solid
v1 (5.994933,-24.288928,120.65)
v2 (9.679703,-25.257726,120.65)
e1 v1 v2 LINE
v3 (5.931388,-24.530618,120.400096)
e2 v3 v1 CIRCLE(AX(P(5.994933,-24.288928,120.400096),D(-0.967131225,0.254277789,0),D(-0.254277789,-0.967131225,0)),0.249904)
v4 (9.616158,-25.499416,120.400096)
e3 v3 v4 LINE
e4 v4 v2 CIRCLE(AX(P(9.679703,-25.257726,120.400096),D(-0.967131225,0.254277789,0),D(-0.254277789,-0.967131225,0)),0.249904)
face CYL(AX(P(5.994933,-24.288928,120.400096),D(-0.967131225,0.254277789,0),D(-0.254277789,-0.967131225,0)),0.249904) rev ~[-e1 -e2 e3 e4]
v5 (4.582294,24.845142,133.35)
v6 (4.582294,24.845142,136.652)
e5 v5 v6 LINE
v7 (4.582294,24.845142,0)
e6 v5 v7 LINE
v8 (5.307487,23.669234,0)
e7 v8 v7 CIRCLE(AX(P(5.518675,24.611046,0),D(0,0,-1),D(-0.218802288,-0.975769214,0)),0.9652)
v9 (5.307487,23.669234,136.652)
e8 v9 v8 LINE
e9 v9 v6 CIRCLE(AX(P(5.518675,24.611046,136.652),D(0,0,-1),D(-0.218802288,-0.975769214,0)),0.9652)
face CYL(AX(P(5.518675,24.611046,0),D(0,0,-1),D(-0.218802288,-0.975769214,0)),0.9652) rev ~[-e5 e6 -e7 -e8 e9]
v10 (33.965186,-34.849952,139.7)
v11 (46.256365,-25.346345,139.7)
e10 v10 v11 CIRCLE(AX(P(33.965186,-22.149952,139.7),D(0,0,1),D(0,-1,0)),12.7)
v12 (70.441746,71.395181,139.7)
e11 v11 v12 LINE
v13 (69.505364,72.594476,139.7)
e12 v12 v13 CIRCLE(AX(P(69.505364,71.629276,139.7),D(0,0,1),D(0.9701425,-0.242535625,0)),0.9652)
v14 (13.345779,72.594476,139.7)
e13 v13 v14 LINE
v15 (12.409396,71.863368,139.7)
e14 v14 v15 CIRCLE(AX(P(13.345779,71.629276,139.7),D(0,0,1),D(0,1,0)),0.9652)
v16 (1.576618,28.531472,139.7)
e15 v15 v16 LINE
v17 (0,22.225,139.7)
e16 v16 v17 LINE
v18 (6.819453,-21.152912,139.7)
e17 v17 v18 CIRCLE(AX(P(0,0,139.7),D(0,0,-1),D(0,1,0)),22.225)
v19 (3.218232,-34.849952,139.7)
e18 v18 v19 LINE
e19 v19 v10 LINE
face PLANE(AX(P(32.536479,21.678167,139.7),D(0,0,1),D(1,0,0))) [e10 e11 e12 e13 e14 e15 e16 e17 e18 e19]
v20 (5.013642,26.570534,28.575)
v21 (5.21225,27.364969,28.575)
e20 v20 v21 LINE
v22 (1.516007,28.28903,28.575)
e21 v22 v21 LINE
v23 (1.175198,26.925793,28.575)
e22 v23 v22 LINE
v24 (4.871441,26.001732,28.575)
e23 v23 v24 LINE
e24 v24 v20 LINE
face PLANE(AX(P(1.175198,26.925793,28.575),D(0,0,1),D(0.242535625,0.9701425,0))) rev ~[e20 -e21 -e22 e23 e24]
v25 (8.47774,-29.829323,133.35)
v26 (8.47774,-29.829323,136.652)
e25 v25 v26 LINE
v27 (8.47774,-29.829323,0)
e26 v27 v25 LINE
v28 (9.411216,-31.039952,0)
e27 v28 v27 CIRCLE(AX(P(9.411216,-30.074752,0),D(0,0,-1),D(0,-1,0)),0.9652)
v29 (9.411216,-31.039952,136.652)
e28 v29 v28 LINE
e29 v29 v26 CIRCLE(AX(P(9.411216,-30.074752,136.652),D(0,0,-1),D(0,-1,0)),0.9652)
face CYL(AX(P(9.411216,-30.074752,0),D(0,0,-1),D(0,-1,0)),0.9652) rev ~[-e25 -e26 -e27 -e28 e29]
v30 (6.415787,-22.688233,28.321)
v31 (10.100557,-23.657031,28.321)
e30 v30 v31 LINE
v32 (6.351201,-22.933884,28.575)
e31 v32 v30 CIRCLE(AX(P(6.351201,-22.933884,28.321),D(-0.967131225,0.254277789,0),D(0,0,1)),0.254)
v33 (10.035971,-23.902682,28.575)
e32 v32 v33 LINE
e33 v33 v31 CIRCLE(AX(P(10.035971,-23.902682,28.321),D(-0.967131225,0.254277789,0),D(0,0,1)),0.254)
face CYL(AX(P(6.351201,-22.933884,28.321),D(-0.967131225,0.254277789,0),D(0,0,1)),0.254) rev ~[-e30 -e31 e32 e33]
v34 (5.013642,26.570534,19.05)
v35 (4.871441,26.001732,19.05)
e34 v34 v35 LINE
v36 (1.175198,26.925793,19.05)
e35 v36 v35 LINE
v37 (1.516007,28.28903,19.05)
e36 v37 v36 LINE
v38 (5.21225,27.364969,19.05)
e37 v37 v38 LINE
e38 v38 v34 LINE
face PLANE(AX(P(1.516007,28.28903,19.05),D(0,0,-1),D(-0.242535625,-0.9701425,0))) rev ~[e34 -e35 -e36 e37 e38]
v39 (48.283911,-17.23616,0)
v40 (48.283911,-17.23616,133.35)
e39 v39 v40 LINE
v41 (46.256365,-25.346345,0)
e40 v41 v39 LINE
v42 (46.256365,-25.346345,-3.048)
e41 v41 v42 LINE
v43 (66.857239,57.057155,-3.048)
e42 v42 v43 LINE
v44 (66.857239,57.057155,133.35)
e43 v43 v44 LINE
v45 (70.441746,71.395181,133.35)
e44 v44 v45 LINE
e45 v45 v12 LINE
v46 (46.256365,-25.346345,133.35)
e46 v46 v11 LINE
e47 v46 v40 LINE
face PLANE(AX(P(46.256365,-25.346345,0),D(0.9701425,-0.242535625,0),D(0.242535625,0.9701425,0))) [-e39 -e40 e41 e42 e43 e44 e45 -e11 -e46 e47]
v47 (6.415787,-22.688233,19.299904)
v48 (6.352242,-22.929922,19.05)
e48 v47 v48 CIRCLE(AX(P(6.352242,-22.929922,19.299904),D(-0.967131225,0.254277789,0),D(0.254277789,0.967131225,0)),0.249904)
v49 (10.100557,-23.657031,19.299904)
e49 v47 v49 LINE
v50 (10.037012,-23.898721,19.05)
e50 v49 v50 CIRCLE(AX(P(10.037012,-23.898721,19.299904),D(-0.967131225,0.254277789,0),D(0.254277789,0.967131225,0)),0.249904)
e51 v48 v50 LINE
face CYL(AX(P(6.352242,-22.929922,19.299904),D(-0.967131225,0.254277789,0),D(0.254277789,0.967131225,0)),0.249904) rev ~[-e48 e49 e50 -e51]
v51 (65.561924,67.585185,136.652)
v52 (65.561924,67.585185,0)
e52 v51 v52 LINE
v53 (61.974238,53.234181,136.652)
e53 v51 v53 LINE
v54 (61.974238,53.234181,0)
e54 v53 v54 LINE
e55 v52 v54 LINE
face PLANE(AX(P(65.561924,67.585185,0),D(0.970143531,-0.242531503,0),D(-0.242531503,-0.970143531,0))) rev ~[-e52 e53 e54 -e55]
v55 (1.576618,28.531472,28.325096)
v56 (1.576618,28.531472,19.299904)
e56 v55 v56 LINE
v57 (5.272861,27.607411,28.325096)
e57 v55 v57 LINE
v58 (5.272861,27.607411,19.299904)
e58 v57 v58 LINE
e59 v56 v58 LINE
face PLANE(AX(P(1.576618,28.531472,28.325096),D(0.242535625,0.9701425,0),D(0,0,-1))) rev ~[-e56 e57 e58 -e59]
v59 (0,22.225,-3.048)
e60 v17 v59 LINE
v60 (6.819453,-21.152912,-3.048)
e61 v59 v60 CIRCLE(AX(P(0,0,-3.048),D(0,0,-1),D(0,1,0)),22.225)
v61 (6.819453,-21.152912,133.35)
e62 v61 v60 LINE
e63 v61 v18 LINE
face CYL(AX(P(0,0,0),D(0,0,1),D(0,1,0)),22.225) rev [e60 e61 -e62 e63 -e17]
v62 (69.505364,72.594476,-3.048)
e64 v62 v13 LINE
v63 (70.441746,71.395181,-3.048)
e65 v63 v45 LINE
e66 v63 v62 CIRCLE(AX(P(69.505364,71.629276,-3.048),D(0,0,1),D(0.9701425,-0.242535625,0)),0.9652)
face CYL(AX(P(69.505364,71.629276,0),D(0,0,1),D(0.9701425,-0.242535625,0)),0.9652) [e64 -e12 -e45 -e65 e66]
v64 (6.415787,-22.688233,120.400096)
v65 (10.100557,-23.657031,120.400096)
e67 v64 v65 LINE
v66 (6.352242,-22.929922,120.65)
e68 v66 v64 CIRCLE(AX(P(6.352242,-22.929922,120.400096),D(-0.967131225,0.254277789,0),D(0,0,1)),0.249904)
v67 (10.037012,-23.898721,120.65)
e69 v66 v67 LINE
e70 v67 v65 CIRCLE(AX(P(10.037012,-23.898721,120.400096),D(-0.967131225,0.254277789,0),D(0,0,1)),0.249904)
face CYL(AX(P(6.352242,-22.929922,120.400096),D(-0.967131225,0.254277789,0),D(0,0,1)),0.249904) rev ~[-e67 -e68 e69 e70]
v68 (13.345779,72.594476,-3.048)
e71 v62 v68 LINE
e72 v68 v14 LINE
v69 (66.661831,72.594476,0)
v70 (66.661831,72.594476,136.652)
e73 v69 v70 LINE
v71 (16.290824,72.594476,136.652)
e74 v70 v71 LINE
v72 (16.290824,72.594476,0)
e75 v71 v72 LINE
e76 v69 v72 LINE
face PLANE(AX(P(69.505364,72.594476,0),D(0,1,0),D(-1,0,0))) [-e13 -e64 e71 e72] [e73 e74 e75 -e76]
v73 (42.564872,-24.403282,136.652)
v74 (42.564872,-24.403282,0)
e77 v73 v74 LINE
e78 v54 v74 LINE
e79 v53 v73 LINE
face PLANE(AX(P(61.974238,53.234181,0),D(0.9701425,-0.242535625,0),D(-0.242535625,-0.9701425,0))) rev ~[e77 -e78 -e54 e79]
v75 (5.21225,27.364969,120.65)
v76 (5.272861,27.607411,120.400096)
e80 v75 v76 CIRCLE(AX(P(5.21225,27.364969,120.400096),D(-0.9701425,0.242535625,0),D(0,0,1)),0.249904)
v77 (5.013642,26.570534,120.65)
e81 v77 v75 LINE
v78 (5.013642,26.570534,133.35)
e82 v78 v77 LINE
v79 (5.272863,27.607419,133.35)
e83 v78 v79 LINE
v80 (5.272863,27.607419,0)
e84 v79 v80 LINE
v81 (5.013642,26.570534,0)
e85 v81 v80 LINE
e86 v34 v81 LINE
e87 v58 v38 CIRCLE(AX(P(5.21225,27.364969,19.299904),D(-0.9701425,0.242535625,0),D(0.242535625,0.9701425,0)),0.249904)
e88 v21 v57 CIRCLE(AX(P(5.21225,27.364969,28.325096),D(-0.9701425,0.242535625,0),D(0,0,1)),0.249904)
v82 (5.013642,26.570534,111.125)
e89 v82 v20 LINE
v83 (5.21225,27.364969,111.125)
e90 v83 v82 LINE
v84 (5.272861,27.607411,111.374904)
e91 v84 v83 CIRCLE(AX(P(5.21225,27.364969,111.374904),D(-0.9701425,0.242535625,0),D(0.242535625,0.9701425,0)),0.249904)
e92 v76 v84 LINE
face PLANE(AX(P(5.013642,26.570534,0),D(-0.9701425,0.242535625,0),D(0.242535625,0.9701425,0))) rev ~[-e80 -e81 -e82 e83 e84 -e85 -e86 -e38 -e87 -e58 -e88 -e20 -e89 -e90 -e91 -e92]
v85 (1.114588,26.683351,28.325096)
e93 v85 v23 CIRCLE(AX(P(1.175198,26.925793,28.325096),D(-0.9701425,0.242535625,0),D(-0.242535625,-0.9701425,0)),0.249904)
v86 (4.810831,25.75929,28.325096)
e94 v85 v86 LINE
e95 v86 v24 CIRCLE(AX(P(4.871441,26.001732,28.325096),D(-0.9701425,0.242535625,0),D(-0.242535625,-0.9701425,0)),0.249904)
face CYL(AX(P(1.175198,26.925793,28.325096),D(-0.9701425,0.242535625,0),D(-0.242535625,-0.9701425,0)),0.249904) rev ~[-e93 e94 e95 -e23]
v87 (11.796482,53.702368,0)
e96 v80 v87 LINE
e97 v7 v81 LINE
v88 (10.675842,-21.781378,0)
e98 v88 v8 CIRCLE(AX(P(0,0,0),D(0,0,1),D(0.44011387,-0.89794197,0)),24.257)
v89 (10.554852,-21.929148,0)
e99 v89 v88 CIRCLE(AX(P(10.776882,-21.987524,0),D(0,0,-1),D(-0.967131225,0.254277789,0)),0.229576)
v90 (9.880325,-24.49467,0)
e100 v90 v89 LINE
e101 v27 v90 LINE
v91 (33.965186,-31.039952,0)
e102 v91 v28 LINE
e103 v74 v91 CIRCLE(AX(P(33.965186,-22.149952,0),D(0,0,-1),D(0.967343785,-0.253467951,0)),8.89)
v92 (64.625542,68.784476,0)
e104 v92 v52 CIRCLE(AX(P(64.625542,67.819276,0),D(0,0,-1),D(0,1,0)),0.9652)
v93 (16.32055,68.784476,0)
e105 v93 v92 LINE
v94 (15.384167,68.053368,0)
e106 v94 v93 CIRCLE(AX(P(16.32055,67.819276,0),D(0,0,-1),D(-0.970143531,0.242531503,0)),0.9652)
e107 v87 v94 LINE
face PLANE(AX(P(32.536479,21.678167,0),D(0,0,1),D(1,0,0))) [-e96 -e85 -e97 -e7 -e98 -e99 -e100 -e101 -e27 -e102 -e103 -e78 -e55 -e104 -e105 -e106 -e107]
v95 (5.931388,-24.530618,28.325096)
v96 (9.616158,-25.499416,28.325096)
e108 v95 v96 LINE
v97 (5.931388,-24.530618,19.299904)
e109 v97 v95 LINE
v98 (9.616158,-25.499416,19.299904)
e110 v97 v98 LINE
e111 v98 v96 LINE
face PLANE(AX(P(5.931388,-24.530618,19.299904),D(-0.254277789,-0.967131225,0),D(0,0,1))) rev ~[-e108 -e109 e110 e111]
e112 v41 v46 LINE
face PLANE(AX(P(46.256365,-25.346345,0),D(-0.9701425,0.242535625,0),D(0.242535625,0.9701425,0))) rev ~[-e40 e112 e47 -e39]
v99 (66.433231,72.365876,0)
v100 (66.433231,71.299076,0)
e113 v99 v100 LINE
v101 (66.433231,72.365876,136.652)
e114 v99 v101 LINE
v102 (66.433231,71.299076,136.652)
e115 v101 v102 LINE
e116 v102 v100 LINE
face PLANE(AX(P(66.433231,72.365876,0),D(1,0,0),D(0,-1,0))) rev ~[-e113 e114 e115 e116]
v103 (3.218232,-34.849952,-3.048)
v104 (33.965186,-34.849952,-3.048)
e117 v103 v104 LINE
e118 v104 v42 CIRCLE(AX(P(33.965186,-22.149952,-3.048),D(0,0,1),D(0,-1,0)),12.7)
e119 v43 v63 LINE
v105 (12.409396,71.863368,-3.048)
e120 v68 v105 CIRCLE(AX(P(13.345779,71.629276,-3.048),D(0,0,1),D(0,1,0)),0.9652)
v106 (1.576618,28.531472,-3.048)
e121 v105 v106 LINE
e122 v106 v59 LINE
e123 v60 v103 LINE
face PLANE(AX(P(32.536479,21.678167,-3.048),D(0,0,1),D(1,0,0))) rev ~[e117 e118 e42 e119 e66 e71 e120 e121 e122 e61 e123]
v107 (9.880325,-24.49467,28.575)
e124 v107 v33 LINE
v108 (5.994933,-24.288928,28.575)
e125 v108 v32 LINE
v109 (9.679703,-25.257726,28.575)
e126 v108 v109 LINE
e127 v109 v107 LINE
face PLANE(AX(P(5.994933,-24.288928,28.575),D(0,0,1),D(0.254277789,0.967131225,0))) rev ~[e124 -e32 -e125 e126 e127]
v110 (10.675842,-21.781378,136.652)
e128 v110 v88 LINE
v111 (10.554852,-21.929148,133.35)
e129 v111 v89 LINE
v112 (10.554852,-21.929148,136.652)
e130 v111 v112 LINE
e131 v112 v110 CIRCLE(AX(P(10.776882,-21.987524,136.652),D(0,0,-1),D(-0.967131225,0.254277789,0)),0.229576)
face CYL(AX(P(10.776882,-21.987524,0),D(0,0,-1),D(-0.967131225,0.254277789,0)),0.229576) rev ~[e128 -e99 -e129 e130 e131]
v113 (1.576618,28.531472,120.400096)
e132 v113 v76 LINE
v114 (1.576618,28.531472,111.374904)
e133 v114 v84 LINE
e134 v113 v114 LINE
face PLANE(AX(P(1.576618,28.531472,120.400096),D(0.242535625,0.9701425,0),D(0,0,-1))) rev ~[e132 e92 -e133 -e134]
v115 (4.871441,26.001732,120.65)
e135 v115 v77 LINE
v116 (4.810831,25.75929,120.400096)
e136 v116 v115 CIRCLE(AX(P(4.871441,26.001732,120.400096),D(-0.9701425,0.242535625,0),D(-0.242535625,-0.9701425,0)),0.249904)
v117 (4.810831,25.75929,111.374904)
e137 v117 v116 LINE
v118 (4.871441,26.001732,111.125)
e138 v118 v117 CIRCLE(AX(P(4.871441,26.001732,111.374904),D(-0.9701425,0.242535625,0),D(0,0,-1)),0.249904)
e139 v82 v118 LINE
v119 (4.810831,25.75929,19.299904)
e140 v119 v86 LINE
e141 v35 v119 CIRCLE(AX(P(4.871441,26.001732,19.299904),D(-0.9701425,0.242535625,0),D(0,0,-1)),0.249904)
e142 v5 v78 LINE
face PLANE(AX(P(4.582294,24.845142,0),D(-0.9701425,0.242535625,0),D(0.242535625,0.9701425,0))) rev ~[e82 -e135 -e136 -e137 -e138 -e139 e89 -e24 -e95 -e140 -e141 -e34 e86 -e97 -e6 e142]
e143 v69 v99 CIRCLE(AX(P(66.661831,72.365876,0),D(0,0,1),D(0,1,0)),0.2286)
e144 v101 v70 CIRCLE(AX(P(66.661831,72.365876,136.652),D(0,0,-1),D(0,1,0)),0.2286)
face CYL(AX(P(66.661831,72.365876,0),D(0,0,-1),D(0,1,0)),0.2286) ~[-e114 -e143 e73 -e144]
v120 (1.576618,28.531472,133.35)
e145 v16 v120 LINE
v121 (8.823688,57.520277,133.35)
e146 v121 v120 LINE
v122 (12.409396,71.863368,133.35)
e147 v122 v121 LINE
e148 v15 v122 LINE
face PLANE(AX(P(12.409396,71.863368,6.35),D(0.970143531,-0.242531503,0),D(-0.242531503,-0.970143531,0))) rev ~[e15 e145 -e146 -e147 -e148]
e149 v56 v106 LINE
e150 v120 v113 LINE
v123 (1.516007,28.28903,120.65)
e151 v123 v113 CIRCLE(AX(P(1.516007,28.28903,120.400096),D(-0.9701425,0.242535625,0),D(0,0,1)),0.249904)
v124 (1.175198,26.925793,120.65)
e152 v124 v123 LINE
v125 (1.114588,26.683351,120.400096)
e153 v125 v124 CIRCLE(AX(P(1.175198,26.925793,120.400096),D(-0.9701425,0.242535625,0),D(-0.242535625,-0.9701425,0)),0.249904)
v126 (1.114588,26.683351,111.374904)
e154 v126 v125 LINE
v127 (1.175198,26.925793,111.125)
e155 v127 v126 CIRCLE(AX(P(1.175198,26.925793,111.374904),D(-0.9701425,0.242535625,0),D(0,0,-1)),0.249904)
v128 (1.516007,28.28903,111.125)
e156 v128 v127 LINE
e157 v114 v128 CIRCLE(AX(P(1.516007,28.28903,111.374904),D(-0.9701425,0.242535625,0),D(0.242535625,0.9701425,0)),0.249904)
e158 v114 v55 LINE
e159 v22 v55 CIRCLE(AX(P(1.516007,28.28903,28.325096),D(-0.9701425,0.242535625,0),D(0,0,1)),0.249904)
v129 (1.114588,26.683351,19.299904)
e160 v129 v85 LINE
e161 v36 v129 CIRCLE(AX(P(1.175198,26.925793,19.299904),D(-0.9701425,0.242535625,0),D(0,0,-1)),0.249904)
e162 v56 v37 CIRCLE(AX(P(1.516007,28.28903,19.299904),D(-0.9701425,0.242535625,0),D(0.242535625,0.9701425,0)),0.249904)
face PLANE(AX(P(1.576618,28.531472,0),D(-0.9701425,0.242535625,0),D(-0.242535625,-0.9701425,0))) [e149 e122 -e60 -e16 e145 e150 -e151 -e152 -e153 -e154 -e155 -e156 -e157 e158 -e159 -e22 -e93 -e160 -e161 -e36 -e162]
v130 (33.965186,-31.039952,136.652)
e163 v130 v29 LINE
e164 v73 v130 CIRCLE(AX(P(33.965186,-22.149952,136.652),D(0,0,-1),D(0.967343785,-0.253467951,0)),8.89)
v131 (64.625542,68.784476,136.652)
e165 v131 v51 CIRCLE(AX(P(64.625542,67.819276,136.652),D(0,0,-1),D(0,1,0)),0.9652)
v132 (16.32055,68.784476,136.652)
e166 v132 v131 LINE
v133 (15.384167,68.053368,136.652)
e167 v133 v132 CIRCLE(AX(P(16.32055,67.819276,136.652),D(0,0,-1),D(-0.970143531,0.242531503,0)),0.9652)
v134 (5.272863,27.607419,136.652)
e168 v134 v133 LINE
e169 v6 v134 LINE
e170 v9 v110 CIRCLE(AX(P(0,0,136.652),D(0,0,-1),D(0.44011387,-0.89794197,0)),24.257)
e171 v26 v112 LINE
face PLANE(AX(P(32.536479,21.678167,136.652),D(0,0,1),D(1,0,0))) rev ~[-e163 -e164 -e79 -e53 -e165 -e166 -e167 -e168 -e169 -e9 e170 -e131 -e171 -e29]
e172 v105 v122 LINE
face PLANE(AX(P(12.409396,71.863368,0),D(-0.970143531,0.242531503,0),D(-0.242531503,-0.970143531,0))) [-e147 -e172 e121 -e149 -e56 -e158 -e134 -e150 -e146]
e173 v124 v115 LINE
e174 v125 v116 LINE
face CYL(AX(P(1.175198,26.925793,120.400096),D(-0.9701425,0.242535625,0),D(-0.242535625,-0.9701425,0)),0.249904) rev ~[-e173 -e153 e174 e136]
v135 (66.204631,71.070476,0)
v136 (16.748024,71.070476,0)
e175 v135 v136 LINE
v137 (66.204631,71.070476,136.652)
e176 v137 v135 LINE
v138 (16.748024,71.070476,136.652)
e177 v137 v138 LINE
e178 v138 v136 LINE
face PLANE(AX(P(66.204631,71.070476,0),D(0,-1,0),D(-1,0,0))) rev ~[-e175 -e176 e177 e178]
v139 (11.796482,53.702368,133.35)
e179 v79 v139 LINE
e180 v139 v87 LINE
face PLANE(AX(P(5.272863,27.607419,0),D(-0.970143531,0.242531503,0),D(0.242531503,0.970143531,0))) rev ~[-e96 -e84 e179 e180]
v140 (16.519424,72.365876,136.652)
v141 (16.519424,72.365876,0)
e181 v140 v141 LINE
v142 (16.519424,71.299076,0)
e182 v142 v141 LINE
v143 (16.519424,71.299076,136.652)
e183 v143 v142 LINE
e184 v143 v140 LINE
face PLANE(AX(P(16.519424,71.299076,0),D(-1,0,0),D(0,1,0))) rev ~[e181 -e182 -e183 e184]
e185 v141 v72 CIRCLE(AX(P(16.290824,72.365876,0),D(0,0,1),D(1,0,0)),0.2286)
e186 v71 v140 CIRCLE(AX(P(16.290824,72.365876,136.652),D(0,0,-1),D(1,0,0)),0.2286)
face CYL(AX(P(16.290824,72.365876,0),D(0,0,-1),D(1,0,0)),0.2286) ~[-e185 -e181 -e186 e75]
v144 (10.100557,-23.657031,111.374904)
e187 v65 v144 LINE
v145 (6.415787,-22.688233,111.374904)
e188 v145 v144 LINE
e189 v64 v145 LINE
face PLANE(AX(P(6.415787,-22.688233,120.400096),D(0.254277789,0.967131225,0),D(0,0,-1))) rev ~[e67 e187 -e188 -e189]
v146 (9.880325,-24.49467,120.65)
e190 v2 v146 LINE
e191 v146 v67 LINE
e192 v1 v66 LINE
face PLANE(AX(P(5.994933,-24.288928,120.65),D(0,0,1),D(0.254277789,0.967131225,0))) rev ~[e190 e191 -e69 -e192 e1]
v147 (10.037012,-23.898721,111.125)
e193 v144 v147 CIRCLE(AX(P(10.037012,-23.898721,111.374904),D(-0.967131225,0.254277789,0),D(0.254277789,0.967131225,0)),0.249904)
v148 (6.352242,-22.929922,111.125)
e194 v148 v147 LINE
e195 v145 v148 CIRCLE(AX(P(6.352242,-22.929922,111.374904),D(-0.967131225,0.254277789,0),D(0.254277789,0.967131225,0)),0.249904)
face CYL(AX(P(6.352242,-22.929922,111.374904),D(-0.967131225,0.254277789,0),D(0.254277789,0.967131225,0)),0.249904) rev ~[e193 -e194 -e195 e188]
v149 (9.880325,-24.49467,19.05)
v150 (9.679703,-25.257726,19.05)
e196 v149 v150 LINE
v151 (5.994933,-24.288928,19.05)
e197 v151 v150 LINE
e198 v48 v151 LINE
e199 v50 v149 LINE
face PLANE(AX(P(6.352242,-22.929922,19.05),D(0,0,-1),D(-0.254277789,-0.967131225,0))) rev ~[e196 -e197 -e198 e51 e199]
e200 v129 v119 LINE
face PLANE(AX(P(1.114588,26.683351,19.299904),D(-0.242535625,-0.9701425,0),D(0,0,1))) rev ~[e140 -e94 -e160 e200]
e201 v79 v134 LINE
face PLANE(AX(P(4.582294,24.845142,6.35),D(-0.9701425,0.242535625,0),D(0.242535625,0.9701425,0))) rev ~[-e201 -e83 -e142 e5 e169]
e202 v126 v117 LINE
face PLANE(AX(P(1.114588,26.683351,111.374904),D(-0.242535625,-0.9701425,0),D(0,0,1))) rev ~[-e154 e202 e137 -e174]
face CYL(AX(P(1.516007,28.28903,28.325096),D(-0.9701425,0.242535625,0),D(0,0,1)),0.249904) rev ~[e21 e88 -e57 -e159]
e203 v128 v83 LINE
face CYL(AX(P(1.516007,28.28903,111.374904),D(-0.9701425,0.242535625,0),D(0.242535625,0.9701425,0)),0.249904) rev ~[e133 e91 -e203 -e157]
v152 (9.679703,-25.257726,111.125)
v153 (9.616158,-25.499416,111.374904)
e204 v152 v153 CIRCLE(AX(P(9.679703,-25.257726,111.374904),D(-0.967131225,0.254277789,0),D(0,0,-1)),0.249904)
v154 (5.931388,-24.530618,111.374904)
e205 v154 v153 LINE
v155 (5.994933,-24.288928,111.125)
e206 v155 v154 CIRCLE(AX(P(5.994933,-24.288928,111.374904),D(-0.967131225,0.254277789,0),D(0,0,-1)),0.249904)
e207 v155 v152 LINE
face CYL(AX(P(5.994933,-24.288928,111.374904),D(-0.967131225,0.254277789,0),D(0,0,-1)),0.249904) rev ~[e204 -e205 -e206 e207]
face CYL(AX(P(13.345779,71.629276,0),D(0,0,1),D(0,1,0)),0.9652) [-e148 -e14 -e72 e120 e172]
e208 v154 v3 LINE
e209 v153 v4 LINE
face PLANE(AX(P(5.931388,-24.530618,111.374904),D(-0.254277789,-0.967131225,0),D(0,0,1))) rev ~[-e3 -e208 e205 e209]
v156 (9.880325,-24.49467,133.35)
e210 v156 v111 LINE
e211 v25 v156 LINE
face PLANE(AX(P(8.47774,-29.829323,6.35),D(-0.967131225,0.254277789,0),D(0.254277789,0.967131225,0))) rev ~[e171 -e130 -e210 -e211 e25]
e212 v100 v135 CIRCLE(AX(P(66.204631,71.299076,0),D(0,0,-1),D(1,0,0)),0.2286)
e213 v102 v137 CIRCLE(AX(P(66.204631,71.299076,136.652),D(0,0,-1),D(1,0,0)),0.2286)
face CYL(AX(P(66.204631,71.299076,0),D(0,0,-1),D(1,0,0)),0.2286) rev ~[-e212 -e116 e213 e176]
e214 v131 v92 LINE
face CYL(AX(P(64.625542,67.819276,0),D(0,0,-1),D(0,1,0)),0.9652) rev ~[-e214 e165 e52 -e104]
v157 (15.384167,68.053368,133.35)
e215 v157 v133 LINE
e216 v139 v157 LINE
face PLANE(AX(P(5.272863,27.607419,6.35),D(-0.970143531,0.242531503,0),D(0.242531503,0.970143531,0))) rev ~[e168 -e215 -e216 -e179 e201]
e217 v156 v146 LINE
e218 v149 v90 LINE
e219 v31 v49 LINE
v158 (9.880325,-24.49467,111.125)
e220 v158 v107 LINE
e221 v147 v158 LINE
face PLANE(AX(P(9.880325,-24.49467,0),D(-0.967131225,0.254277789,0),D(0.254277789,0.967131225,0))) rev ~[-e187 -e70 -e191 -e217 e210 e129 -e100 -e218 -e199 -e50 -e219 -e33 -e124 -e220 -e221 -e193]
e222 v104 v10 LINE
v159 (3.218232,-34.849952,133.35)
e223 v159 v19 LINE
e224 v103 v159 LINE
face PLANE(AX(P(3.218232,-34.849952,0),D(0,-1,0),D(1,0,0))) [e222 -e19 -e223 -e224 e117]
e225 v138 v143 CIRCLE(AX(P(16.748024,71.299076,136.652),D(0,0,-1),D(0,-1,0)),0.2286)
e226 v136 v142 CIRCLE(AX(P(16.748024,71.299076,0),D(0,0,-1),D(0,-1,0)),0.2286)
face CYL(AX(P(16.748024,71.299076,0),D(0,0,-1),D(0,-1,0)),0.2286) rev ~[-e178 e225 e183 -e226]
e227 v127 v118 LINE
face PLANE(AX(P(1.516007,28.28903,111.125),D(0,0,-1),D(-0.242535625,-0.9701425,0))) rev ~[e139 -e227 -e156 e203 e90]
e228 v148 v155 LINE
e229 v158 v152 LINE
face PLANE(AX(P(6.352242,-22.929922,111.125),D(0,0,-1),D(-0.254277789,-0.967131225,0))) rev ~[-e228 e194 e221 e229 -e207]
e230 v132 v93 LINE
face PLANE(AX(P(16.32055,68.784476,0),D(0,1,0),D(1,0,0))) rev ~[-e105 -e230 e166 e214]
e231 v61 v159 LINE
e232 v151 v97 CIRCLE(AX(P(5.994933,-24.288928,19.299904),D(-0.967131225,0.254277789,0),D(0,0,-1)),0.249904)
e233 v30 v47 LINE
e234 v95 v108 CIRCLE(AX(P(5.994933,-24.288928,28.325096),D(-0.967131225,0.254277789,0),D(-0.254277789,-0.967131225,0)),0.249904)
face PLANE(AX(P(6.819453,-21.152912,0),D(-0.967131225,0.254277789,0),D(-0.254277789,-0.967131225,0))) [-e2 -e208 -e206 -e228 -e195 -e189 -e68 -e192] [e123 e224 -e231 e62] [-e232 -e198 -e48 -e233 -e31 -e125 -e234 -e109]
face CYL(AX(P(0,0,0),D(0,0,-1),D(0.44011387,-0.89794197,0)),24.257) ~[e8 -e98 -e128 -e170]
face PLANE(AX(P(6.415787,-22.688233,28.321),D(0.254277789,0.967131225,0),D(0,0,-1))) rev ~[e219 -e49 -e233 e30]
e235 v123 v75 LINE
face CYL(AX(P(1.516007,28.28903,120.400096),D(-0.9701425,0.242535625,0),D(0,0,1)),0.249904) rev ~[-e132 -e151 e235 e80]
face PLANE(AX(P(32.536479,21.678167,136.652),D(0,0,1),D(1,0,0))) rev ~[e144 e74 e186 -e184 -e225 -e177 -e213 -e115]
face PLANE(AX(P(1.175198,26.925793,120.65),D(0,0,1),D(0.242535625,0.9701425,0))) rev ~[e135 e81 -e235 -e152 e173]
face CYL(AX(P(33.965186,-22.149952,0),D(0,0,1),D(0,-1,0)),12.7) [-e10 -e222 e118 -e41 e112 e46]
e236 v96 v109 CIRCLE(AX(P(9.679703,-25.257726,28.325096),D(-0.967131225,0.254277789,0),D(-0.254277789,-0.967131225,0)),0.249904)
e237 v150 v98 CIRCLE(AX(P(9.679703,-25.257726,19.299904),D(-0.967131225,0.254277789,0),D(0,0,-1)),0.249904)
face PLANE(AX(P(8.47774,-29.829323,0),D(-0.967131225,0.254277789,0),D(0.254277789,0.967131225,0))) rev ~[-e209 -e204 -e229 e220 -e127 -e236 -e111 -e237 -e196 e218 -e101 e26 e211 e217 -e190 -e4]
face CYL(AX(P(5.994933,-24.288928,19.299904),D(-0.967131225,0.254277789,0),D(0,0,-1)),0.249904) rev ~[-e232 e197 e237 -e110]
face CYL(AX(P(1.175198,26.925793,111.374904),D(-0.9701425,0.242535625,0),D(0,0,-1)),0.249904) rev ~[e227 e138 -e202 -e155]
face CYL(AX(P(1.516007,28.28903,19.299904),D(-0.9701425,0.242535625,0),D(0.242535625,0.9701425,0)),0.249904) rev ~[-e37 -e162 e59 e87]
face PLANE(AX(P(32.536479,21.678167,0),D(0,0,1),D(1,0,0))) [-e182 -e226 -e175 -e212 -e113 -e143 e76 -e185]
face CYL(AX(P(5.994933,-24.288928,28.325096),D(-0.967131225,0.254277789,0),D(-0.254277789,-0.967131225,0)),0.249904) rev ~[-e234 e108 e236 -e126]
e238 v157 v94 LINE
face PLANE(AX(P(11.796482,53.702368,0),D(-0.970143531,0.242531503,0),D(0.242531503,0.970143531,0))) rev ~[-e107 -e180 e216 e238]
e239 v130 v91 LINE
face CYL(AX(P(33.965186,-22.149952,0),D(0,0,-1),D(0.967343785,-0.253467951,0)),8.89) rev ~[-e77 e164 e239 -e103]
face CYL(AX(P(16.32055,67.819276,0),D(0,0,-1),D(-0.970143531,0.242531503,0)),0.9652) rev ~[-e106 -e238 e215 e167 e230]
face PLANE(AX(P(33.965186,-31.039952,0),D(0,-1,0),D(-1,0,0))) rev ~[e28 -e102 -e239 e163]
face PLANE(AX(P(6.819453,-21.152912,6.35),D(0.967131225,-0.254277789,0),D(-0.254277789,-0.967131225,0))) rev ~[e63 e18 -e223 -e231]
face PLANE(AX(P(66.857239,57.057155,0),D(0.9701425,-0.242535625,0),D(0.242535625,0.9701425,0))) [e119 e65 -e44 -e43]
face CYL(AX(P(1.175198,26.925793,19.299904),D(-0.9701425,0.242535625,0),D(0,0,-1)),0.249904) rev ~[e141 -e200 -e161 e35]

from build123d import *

# Parameters (mm, degrees)
F1_DEPTH  = 6.35
F2_DEPTH  = 133.35
F4_DEPTH  = 12.7
F6_DEPTH  = 12.7
F9_DEPTH  = 3.048
F10_DEPTH = 3.048


with BuildPart() as f1:
    # F0 (on Top) → F1 (new body)
    with BuildSketch(Plane.XY):
        with BuildLine():
            ThreePointArc((0, 22.225), (21.9553420771, 3.451605319), (6.8194533628, -21.152911876))
            Line((6.8194533628, -21.152911876), (3.2182324681, -34.8499524029))
            Line((3.2182324681, -34.8499524029), (16.4174194703, -34.8499524029))
            Line((16.4174194703, -34.8499524029), (33.9651857852, -34.8499524029))
            ThreePointArc((33.9651857852, -34.8499524029), (41.7335775109, -32.1969464806), (46.2563646294, -25.3463445283))
            Line((46.2563646294, -25.3463445283), (48.2839106629, -17.2361603944))
            Line((48.2839106629, -17.2361603944), (66.8572394912, 57.057154919))
            Line((66.8572394912, 57.057154919), (70.441746016, 71.3951810179))
            ThreePointArc((70.441746016, 71.3951810179), (70.2661403636, 72.2232722677), (69.5053644748, 72.5944764032))
            Line((69.5053644748, 72.5944764032), (66.6618312249, 72.5944764032))
            ThreePointArc((66.6618312249, 72.5944764032), (66.5001866147, 72.5275210134), (66.4332312249, 72.3658764032))
            Line((66.4332312249, 72.3658764032), (66.4332312249, 71.2990764032))
            ThreePointArc((66.4332312249, 71.2990764032), (66.3662758351, 71.137431793), (66.2046312249, 71.0704764032))
            Line((66.2046312249, 71.0704764032), (62.9969858988, 71.0704764032))
            Line((62.9969858988, 71.0704764032), (16.7480240974, 71.0704764032))
            ThreePointArc((16.7480240974, 71.0704764032), (16.5863794872, 71.137431793), (16.5194240974, 71.2990764032))
            Line((16.5194240974, 71.2990764032), (16.5194240974, 72.3658764032))
            ThreePointArc((16.5194240974, 72.3658764032), (16.4524687076, 72.5275210134), (16.2908240974, 72.5944764032))
            Line((16.2908240974, 72.5944764032), (13.3457788493, 72.5944764032))
            ThreePointArc((13.3457788493, 72.5944764032), (12.7517813684, 72.3900510299), (12.4093963134, 71.8633678095))
            Line((12.4093963134, 71.8633678095), (8.8236883425, 57.5202768957))
            Line((8.8236883425, 57.5202768957), (1.5766180268, 28.5314721071))
            Line((1.5766180268, 28.5314721071), (0, 22.225))
        make_face()
        with BuildLine():
            Line((8.4777404731, -29.8293234814), (9.8803254969, -24.4946704637))
            Line((9.8803254969, -24.4946704637), (10.5548516962, -21.9291481147))
            ThreePointArc((10.5548516962, -21.9291481147), (10.5992515812, -21.8420847409), (10.675842156, -21.78137836))
            ThreePointArc((10.675842156, -21.78137836), (24.0895462893, 2.8453134411), (5.3074870946, 23.6692338224))
            ThreePointArc((5.3074870946, 23.6692338224), (4.6971406745, 24.104398176), (4.5822935216, 24.845141653))
            Line((4.5822935216, 24.845141653), (5.0136417236, 26.570534461))
            Line((5.0136417236, 26.570534461), (5.2728629157, 27.6074192291))
            Line((5.2728629157, 27.6074192291), (11.7964822448, 53.7023678095))
            Line((11.7964822448, 53.7023678095), (15.3841674516, 68.0533678095))
            ThreePointArc((15.3841674516, 68.0533678095), (15.7265525066, 68.5800510299), (16.3205499875, 68.7844764032))
            Line((16.3205499875, 68.7844764032), (62.9969858988, 68.7844764032))
            Line((62.9969858988, 68.7844764032), (64.6255415732, 68.7844764032))
            ThreePointArc((64.6255415732, 68.7844764032), (65.3863161999, 68.4132738841), (65.5619241091, 67.5851849969))
            Line((65.5619241091, 67.5851849969), (61.9742379076, 53.2341810179))
            Line((61.9742379076, 53.2341810179), (44.5876677374, -16.312099663))
            Line((44.5876677374, -16.312099663), (42.5648720315, -24.4032824866))
            ThreePointArc((42.5648720315, -24.4032824866), (39.3965758263, -29.1878570785), (33.9651857852, -31.0399524029))
            Line((33.9651857852, -31.0399524029), (16.7253963249, -31.0399524029))
            Line((16.7253963249, -31.0399524029), (9.4112155314, -31.0399524029))
            ThreePointArc((9.4112155314, -31.0399524029), (8.6468533675, -30.6641262423), (8.4777404731, -29.8293234814))
        make_face(mode=Mode.SUBTRACT)
    extrude(amount=F1_DEPTH)

    # F0 (on Top) + F1_face (on face) → F2 (join)
    with BuildSketch(Plane.XY):
        with BuildLine():
            ThreePointArc((0, 22.225), (21.9553420771, 3.451605319), (6.8194533628, -21.152911876))
            Line((6.8194533628, -21.152911876), (3.2182324681, -34.8499524029))
            Line((3.2182324681, -34.8499524029), (16.4174194703, -34.8499524029))
            Line((16.4174194703, -34.8499524029), (33.9651857852, -34.8499524029))
            ThreePointArc((33.9651857852, -34.8499524029), (41.7335775109, -32.1969464806), (46.2563646294, -25.3463445283))
            Line((46.2563646294, -25.3463445283), (48.2839106629, -17.2361603944))
            Line((48.2839106629, -17.2361603944), (66.8572394912, 57.057154919))
            Line((66.8572394912, 57.057154919), (70.441746016, 71.3951810179))
            ThreePointArc((70.441746016, 71.3951810179), (70.2661403636, 72.2232722677), (69.5053644748, 72.5944764032))
            Line((69.5053644748, 72.5944764032), (66.6618312249, 72.5944764032))
            ThreePointArc((66.6618312249, 72.5944764032), (66.5001866147, 72.5275210134), (66.4332312249, 72.3658764032))
            Line((66.4332312249, 72.3658764032), (66.4332312249, 71.2990764032))
            ThreePointArc((66.4332312249, 71.2990764032), (66.3662758351, 71.137431793), (66.2046312249, 71.0704764032))
            Line((66.2046312249, 71.0704764032), (62.9969858988, 71.0704764032))
            Line((62.9969858988, 71.0704764032), (16.7480240974, 71.0704764032))
            ThreePointArc((16.7480240974, 71.0704764032), (16.5863794872, 71.137431793), (16.5194240974, 71.2990764032))
            Line((16.5194240974, 71.2990764032), (16.5194240974, 72.3658764032))
            ThreePointArc((16.5194240974, 72.3658764032), (16.4524687076, 72.5275210134), (16.2908240974, 72.5944764032))
            Line((16.2908240974, 72.5944764032), (13.3457788493, 72.5944764032))
            ThreePointArc((13.3457788493, 72.5944764032), (12.7517813684, 72.3900510299), (12.4093963134, 71.8633678095))
            Line((12.4093963134, 71.8633678095), (8.8236883425, 57.5202768957))
            Line((8.8236883425, 57.5202768957), (1.5766180268, 28.5314721071))
            Line((1.5766180268, 28.5314721071), (0, 22.225))
        make_face()
        with BuildLine():
            Line((8.4777404731, -29.8293234814), (9.8803254969, -24.4946704637))
            Line((9.8803254969, -24.4946704637), (10.5548516962, -21.9291481147))
            ThreePointArc((10.5548516962, -21.9291481147), (10.5992515812, -21.8420847409), (10.675842156, -21.78137836))
            ThreePointArc((10.675842156, -21.78137836), (24.0895462893, 2.8453134411), (5.3074870946, 23.6692338224))
            ThreePointArc((5.3074870946, 23.6692338224), (4.6971406745, 24.104398176), (4.5822935216, 24.845141653))
            Line((4.5822935216, 24.845141653), (5.0136417236, 26.570534461))
            Line((5.0136417236, 26.570534461), (5.2728629157, 27.6074192291))
            Line((5.2728629157, 27.6074192291), (11.7964822448, 53.7023678095))
            Line((11.7964822448, 53.7023678095), (15.3841674516, 68.0533678095))
            ThreePointArc((15.3841674516, 68.0533678095), (15.7265525066, 68.5800510299), (16.3205499875, 68.7844764032))
            Line((16.3205499875, 68.7844764032), (62.9969858988, 68.7844764032))
            Line((62.9969858988, 68.7844764032), (64.6255415732, 68.7844764032))
            ThreePointArc((64.6255415732, 68.7844764032), (65.3863161999, 68.4132738841), (65.5619241091, 67.5851849969))
            Line((65.5619241091, 67.5851849969), (61.9742379076, 53.2341810179))
            Line((61.9742379076, 53.2341810179), (44.5876677374, -16.312099663))
            Line((44.5876677374, -16.312099663), (42.5648720315, -24.4032824866))
            ThreePointArc((42.5648720315, -24.4032824866), (39.3965758263, -29.1878570785), (33.9651857852, -31.0399524029))
            Line((33.9651857852, -31.0399524029), (16.7253963249, -31.0399524029))
            Line((16.7253963249, -31.0399524029), (9.4112155314, -31.0399524029))
            ThreePointArc((9.4112155314, -31.0399524029), (8.6468533675, -30.6641262423), (8.4777404731, -29.8293234814))
        make_face(mode=Mode.SUBTRACT)
    with BuildSketch(Plane(origin=(33.8847935275, 19.8846997175, 6.35), x_dir=(1, 0, 0), z_dir=(0, 0, 1))):
        with BuildLine():
            Line((-32.3081755007, 8.6467723896), (-33.8847935275, 2.3403002825))
            ThreePointArc((-33.8847935275, 2.3403002825), (-11.9294514504, -16.4330943985), (-27.0653401647, -41.0376115934))
            Line((-27.0653401647, -41.0376115934), (-30.6665610594, -54.7346521204))
            Line((-30.6665610594, -54.7346521204), (0.0803922577, -54.7346521204))
            ThreePointArc((0.0803922577, -54.7346521204), (7.8487839834, -52.081646198), (12.3715711019, -45.2310442458))
            Line((12.3715711019, -45.2310442458), (36.5569524885, 51.5104813004))
            ThreePointArc((36.5569524885, 51.5104813004), (36.3813468361, 52.3385725502), (35.6205709473, 52.7097766857))
            Line((35.6205709473, 52.7097766857), (32.7770376974, 52.7097766857))
            ThreePointArc((32.7770376974, 52.7097766857), (32.6153930872, 52.6428212959), (32.5484376974, 52.4811766857))
            Line((32.5484376974, 52.4811766857), (32.5484376974, 51.4143766857))
            ThreePointArc((32.5484376974, 51.4143766857), (32.4814823076, 51.2527320756), (32.3198376974, 51.1857766857))
            Line((32.3198376974, 51.1857766857), (-17.1367694301, 51.1857766857))
            ThreePointArc((-17.1367694301, 51.1857766857), (-17.2984140403, 51.2527320756), (-17.3653694301, 51.4143766857))
            Line((-17.3653694301, 51.4143766857), (-17.3653694301, 52.4811766857))
            ThreePointArc((-17.3653694301, 52.4811766857), (-17.4323248199, 52.6428212959), (-17.5939694301, 52.7097766857))
            Line((-17.5939694301, 52.7097766857), (-20.5390146782, 52.7097766857))
            ThreePointArc((-20.5390146782, 52.7097766857), (-21.1330121591, 52.5053513125), (-21.475397214, 51.978668092))
            Line((-21.475397214, 51.978668092), (-32.3081755007, 8.6467723896))
        make_face()
        with BuildLine():
            Line((28.0894443801, 33.3494813004), (8.680078504, -44.287982204))
            ThreePointArc((8.680078504, -44.287982204), (5.5117822988, -49.0725567959), (0.0803922577, -50.9246521204))
            Line((0.0803922577, -50.9246521204), (-24.4735779961, -50.9246521204))
            ThreePointArc((-24.4735779961, -50.9246521204), (-25.2379401599, -50.5488259597), (-25.4070530544, -49.7140231989))
            Line((-25.4070530544, -49.7140231989), (-23.3299418313, -41.8138478322))
            ThreePointArc((-23.3299418313, -41.8138478322), (-23.2855419463, -41.7267844584), (-23.2089513715, -41.6660780774))
            ThreePointArc((-23.2089513715, -41.6660780774), (-9.7952472382, -17.0393862764), (-28.5773064329, 3.7845341049))
            ThreePointArc((-28.5773064329, 3.7845341049), (-29.187652853, 4.2196984585), (-29.3025000058, 4.9604419355))
            Line((-29.3025000058, 4.9604419355), (-28.6119306118, 7.7227195116))
            Line((-28.6119306118, 7.7227195116), (-18.5006260759, 48.168668092))
            ThreePointArc((-18.5006260759, 48.168668092), (-18.1582410209, 48.6953513125), (-17.56424354, 48.8997766857))
            Line((-17.56424354, 48.8997766857), (30.7407480457, 48.8997766857))
            ThreePointArc((30.7407480457, 48.8997766857), (31.5015226724, 48.5285741666), (31.6771305816, 47.7004852794))
            Line((31.6771305816, 47.7004852794), (28.0894443801, 33.3494813004))
        make_face(mode=Mode.SUBTRACT)
    extrude(amount=F2_DEPTH)

    # F3 (on face) → F4 (cut)
    with BuildSketch(Plane(origin=(11.580450504, -3.0447278186, 0), x_dir=(-0.2542777886, -0.9671312249, 0), z_dir=(-0.9671312249, 0.2542777886, 0))):
        with BuildLine():
            ThreePointArc((20.3111060532, 19.2999036496), (20.3843011375, 19.1231950843), (20.5610097027, 19.05))
            Line((20.5610097027, 19.05), (21.9662024036, 19.05))
            ThreePointArc((21.9662024036, 19.05), (22.1429109688, 19.1231950843), (22.2161060532, 19.2999036496))
            Line((22.2161060532, 19.2999036496), (22.2161060532, 28.3250963504))
            ThreePointArc((22.2161060532, 28.3250963504), (22.1429109688, 28.5018049157), (21.9662024036, 28.575))
            Line((21.9662024036, 28.575), (20.5651060532, 28.575))
            ThreePointArc((20.5651060532, 28.575), (20.3855009307, 28.5006051224), (20.3111060532, 28.321))
            Line((20.3111060532, 28.321), (20.3111060532, 19.2999036496))
        make_face()
        with BuildLine():
            Line((21.9662024036, 120.65), (20.5610097027, 120.65))
            ThreePointArc((20.5610097027, 120.65), (20.3843011375, 120.5768049157), (20.3111060532, 120.4000963504))
            Line((20.3111060532, 120.4000963504), (20.3111060532, 111.3749036496))
            ThreePointArc((20.3111060532, 111.3749036496), (20.3843011375, 111.1981950843), (20.5610097027, 111.125))
            Line((20.5610097027, 111.125), (21.9662024036, 111.125))
            ThreePointArc((21.9662024036, 111.125), (22.1429109688, 111.1981950843), (22.2161060532, 111.3749036496))
            Line((22.2161060532, 111.3749036496), (22.2161060532, 120.4000963504))
            ThreePointArc((22.2161060532, 120.4000963504), (22.1429109688, 120.5768049157), (21.9662024036, 120.65))
        make_face()
    extrude(amount=-F4_DEPTH, mode=Mode.SUBTRACT)

    # F5 (on face) → F6 (cut)
    with BuildSketch(Plane(origin=(-5.2294117647, 1.3073529412, 0), x_dir=(-0.242535625, -0.9701425001, 0), z_dir=(-0.9701425001, 0.242535625, 0))):
        with BuildLine():
            Line((-26.1569797214, 111.3749036496), (-26.1569797214, 120.4000963504))
            ThreePointArc((-26.1569797214, 120.4000963504), (-26.2301748057, 120.5768049157), (-26.4068833709, 120.65))
            Line((-26.4068833709, 120.65), (-27.8120760718, 120.65))
            ThreePointArc((-27.8120760718, 120.65), (-27.988784637, 120.5768049157), (-28.0619797214, 120.4000963504))
            Line((-28.0619797214, 120.4000963504), (-28.0619797214, 111.3749036496))
            ThreePointArc((-28.0619797214, 111.3749036496), (-27.988784637, 111.1981950843), (-27.8120760718, 111.125))
            Line((-27.8120760718, 111.125), (-26.4068833709, 111.125))
            ThreePointArc((-26.4068833709, 111.125), (-26.2301748057, 111.1981950843), (-26.1569797214, 111.3749036496))
        make_face()
        with BuildLine():
            ThreePointArc((-27.8120760718, 28.575), (-27.988784637, 28.5018049157), (-28.0619797214, 28.3250963504))
            Line((-28.0619797214, 28.3250963504), (-28.0619797214, 19.2999036496))
            ThreePointArc((-28.0619797214, 19.2999036496), (-27.988784637, 19.1231950843), (-27.8120760718, 19.05))
            Line((-27.8120760718, 19.05), (-26.4068833709, 19.05))
            ThreePointArc((-26.4068833709, 19.05), (-26.2301748057, 19.1231950843), (-26.1569797214, 19.2999036496))
            Line((-26.1569797214, 19.2999036496), (-26.1569797214, 28.3250963504))
            ThreePointArc((-26.1569797214, 28.3250963504), (-26.2301748057, 28.5018049157), (-26.4068833709, 28.575))
            Line((-26.4068833709, 28.575), (-27.8120760718, 28.575))
        make_face()
    extrude(amount=-F6_DEPTH, mode=Mode.SUBTRACT)

    # F8 (on face) → F9 (join)
    with BuildSketch(Plane.XY.offset(139.7)):
        with BuildLine():
            Line((46.2563646294, -25.3463445283), (66.8572394912, 57.057154919))
            Line((66.8572394912, 57.057154919), (70.441746016, 71.3951810179))
            ThreePointArc((70.441746016, 71.3951810179), (70.2661403636, 72.2232722677), (69.5053644748, 72.5944764032))
            Line((69.5053644748, 72.5944764032), (66.6618312249, 72.5944764032))
            ThreePointArc((66.6618312249, 72.5944764032), (66.5001866147, 72.5275210134), (66.4332312249, 72.3658764032))
            Line((66.4332312249, 72.3658764032), (66.4332312249, 71.2990764032))
            ThreePointArc((66.4332312249, 71.2990764032), (66.3662758351, 71.137431793), (66.2046312249, 71.0704764032))
            Line((66.2046312249, 71.0704764032), (16.7480240974, 71.0704764032))
            ThreePointArc((16.7480240974, 71.0704764032), (16.5863794872, 71.137431793), (16.5194240974, 71.2990764032))
            Line((16.5194240974, 71.2990764032), (16.5194240974, 72.3658764032))
            ThreePointArc((16.5194240974, 72.3658764032), (16.4524687076, 72.5275210134), (16.2908240974, 72.5944764032))
            Line((16.2908240974, 72.5944764032), (13.3457788493, 72.5944764032))
            ThreePointArc((13.3457788493, 72.5944764032), (12.7517813684, 72.3900510299), (12.4093963134, 71.8633678095))
            Line((12.4093963134, 71.8633678095), (8.8236883425, 57.5202768957))
            Line((8.8236883425, 57.5202768957), (1.5766180268, 28.5314721071))
            Line((1.5766180268, 28.5314721071), (0, 22.225))
            ThreePointArc((0, 22.225), (21.9553420771, 3.451605319), (6.8194533628, -21.152911876))
            Line((6.8194533628, -21.152911876), (3.2182324681, -34.8499524029))
            Line((3.2182324681, -34.8499524029), (33.9651857852, -34.8499524029))
            ThreePointArc((33.9651857852, -34.8499524029), (41.7335775109, -32.1969464806), (46.2563646294, -25.3463445283))
        make_face()
        with BuildLine():
            Line((65.5619241091, 67.5851849969), (61.9742379076, 53.2341810179))
            Line((61.9742379076, 53.2341810179), (42.5648720315, -24.4032824866))
            ThreePointArc((42.5648720315, -24.4032824866), (39.3965758263, -29.1878570785), (33.9651857852, -31.0399524029))
            Line((33.9651857852, -31.0399524029), (9.4112155314, -31.0399524029))
            ThreePointArc((9.4112155314, -31.0399524029), (8.6468533675, -30.6641262423), (8.4777404731, -29.8293234814))
            Line((8.4777404731, -29.8293234814), (10.5548516962, -21.9291481147))
            ThreePointArc((10.5548516962, -21.9291481147), (10.5992515812, -21.8420847409), (10.675842156, -21.78137836))
            ThreePointArc((10.675842156, -21.78137836), (24.0895462893, 2.8453134411), (5.3074870946, 23.6692338224))
            ThreePointArc((5.3074870946, 23.6692338224), (4.6971406745, 24.104398176), (4.5822935216, 24.845141653))
            Line((4.5822935216, 24.845141653), (5.2728629157, 27.6074192291))
            Line((5.2728629157, 27.6074192291), (15.3841674516, 68.0533678095))
            ThreePointArc((15.3841674516, 68.0533678095), (15.7265525066, 68.5800510299), (16.3205499875, 68.7844764032))
            Line((16.3205499875, 68.7844764032), (64.6255415732, 68.7844764032))
            ThreePointArc((64.6255415732, 68.7844764032), (65.3863161999, 68.4132738841), (65.5619241091, 67.5851849969))
        make_face(mode=Mode.SUBTRACT)
        with BuildLine():
            Line((46.2563646294, -25.3463445283), (66.8572394912, 57.057154919))
            Line((66.8572394912, 57.057154919), (70.441746016, 71.3951810179))
            ThreePointArc((70.441746016, 71.3951810179), (70.2661403636, 72.2232722677), (69.5053644748, 72.5944764032))
            Line((69.5053644748, 72.5944764032), (66.6618312249, 72.5944764032))
            ThreePointArc((66.6618312249, 72.5944764032), (66.5001866147, 72.5275210134), (66.4332312249, 72.3658764032))
            Line((66.4332312249, 72.3658764032), (66.4332312249, 71.2990764032))
            ThreePointArc((66.4332312249, 71.2990764032), (66.3662758351, 71.137431793), (66.2046312249, 71.0704764032))
            Line((66.2046312249, 71.0704764032), (16.7480240974, 71.0704764032))
            ThreePointArc((16.7480240974, 71.0704764032), (16.5863794872, 71.137431793), (16.5194240974, 71.2990764032))
            Line((16.5194240974, 71.2990764032), (16.5194240974, 72.3658764032))
            ThreePointArc((16.5194240974, 72.3658764032), (16.4524687076, 72.5275210134), (16.2908240974, 72.5944764032))
            Line((16.2908240974, 72.5944764032), (13.3457788493, 72.5944764032))
            ThreePointArc((13.3457788493, 72.5944764032), (12.7517813684, 72.3900510299), (12.4093963134, 71.8633678095))
            Line((12.4093963134, 71.8633678095), (8.8236883425, 57.5202768957))
            Line((8.8236883425, 57.5202768957), (1.5766180268, 28.5314721071))
            Line((1.5766180268, 28.5314721071), (0, 22.225))
            ThreePointArc((0, 22.225), (21.9553420771, 3.451605319), (6.8194533628, -21.152911876))
            Line((6.8194533628, -21.152911876), (3.2182324681, -34.8499524029))
            Line((3.2182324681, -34.8499524029), (33.9651857852, -34.8499524029))
            ThreePointArc((33.9651857852, -34.8499524029), (41.7335775109, -32.1969464806), (46.2563646294, -25.3463445283))
        make_face()
        with BuildLine():
            ThreePointArc((66.4332312249, 72.3658764032), (66.5001866147, 72.5275210134), (66.6618312249, 72.5944764032))
            Line((66.6618312249, 72.5944764032), (16.2908240974, 72.5944764032))
            ThreePointArc((16.2908240974, 72.5944764032), (16.4524687076, 72.5275210134), (16.5194240974, 72.3658764032))
            Line((16.5194240974, 72.3658764032), (16.5194240974, 71.2990764032))
            ThreePointArc((16.5194240974, 71.2990764032), (16.5863794872, 71.137431793), (16.7480240974, 71.0704764032))
            Line((16.7480240974, 71.0704764032), (66.2046312249, 71.0704764032))
            ThreePointArc((66.2046312249, 71.0704764032), (66.3662758351, 71.137431793), (66.4332312249, 71.2990764032))
            Line((66.4332312249, 71.2990764032), (66.4332312249, 72.3658764032))
        make_face()
    extrude(amount=-F9_DEPTH)

    # F7 (on Top) → F10 (join)
    with BuildSketch(Plane.XY):
        with BuildLine():
            Line((6.8194533628, -21.152911876), (3.2182324681, -34.8499524029))
            Line((3.2182324681, -34.8499524029), (33.9651857852, -34.8499524029))
            ThreePointArc((33.9651857852, -34.8499524029), (41.7335775109, -32.1969464806), (46.2563646294, -25.3463445283))
            Line((46.2563646294, -25.3463445283), (66.8572394912, 57.057154919))
            Line((66.8572394912, 57.057154919), (70.441746016, 71.3951810179))
            ThreePointArc((70.441746016, 71.3951810179), (70.2661403636, 72.2232722677), (69.5053644748, 72.5944764032))
            Line((69.5053644748, 72.5944764032), (66.6618312249, 72.5944764032))
            ThreePointArc((66.6618312249, 72.5944764032), (66.5001866147, 72.5275210134), (66.4332312249, 72.3658764032))
            Line((66.4332312249, 72.3658764032), (66.4332312249, 71.2990764032))
            ThreePointArc((66.4332312249, 71.2990764032), (66.3662758351, 71.137431793), (66.2046312249, 71.0704764032))
            Line((66.2046312249, 71.0704764032), (16.7480240974, 71.0704764032))
            ThreePointArc((16.7480240974, 71.0704764032), (16.5863794872, 71.137431793), (16.5194240974, 71.2990764032))
            Line((16.5194240974, 71.2990764032), (16.5194240974, 72.3658764032))
            ThreePointArc((16.5194240974, 72.3658764032), (16.4524687076, 72.5275210134), (16.2908240974, 72.5944764032))
            Line((16.2908240974, 72.5944764032), (13.3457788493, 72.5944764032))
            ThreePointArc((13.3457788493, 72.5944764032), (12.7517813684, 72.3900510299), (12.4093963134, 71.8633678095))
            Line((12.4093963134, 71.8633678095), (1.5766180268, 28.5314721071))
            Line((1.5766180268, 28.5314721071), (0, 22.225))
            ThreePointArc((0, 22.225), (21.9553420771, 3.451605319), (6.8194533628, -21.152911876))
        make_face()
        with BuildLine():
            ThreePointArc((66.4332312249, 72.3658764032), (66.5001866147, 72.5275210134), (66.6618312249, 72.5944764032))
            Line((66.6618312249, 72.5944764032), (16.2908240974, 72.5944764032))
            ThreePointArc((16.2908240974, 72.5944764032), (16.4524687076, 72.5275210134), (16.5194240974, 72.3658764032))
            Line((16.5194240974, 72.3658764032), (16.5194240974, 71.2990764032))
            ThreePointArc((16.5194240974, 71.2990764032), (16.5863794872, 71.137431793), (16.7480240974, 71.0704764032))
            Line((16.7480240974, 71.0704764032), (66.2046312249, 71.0704764032))
            ThreePointArc((66.2046312249, 71.0704764032), (66.3662758351, 71.137431793), (66.4332312249, 71.2990764032))
            Line((66.4332312249, 71.2990764032), (66.4332312249, 72.3658764032))
        make_face()
    extrude(amount=-F10_DEPTH)


solid = f1.part
